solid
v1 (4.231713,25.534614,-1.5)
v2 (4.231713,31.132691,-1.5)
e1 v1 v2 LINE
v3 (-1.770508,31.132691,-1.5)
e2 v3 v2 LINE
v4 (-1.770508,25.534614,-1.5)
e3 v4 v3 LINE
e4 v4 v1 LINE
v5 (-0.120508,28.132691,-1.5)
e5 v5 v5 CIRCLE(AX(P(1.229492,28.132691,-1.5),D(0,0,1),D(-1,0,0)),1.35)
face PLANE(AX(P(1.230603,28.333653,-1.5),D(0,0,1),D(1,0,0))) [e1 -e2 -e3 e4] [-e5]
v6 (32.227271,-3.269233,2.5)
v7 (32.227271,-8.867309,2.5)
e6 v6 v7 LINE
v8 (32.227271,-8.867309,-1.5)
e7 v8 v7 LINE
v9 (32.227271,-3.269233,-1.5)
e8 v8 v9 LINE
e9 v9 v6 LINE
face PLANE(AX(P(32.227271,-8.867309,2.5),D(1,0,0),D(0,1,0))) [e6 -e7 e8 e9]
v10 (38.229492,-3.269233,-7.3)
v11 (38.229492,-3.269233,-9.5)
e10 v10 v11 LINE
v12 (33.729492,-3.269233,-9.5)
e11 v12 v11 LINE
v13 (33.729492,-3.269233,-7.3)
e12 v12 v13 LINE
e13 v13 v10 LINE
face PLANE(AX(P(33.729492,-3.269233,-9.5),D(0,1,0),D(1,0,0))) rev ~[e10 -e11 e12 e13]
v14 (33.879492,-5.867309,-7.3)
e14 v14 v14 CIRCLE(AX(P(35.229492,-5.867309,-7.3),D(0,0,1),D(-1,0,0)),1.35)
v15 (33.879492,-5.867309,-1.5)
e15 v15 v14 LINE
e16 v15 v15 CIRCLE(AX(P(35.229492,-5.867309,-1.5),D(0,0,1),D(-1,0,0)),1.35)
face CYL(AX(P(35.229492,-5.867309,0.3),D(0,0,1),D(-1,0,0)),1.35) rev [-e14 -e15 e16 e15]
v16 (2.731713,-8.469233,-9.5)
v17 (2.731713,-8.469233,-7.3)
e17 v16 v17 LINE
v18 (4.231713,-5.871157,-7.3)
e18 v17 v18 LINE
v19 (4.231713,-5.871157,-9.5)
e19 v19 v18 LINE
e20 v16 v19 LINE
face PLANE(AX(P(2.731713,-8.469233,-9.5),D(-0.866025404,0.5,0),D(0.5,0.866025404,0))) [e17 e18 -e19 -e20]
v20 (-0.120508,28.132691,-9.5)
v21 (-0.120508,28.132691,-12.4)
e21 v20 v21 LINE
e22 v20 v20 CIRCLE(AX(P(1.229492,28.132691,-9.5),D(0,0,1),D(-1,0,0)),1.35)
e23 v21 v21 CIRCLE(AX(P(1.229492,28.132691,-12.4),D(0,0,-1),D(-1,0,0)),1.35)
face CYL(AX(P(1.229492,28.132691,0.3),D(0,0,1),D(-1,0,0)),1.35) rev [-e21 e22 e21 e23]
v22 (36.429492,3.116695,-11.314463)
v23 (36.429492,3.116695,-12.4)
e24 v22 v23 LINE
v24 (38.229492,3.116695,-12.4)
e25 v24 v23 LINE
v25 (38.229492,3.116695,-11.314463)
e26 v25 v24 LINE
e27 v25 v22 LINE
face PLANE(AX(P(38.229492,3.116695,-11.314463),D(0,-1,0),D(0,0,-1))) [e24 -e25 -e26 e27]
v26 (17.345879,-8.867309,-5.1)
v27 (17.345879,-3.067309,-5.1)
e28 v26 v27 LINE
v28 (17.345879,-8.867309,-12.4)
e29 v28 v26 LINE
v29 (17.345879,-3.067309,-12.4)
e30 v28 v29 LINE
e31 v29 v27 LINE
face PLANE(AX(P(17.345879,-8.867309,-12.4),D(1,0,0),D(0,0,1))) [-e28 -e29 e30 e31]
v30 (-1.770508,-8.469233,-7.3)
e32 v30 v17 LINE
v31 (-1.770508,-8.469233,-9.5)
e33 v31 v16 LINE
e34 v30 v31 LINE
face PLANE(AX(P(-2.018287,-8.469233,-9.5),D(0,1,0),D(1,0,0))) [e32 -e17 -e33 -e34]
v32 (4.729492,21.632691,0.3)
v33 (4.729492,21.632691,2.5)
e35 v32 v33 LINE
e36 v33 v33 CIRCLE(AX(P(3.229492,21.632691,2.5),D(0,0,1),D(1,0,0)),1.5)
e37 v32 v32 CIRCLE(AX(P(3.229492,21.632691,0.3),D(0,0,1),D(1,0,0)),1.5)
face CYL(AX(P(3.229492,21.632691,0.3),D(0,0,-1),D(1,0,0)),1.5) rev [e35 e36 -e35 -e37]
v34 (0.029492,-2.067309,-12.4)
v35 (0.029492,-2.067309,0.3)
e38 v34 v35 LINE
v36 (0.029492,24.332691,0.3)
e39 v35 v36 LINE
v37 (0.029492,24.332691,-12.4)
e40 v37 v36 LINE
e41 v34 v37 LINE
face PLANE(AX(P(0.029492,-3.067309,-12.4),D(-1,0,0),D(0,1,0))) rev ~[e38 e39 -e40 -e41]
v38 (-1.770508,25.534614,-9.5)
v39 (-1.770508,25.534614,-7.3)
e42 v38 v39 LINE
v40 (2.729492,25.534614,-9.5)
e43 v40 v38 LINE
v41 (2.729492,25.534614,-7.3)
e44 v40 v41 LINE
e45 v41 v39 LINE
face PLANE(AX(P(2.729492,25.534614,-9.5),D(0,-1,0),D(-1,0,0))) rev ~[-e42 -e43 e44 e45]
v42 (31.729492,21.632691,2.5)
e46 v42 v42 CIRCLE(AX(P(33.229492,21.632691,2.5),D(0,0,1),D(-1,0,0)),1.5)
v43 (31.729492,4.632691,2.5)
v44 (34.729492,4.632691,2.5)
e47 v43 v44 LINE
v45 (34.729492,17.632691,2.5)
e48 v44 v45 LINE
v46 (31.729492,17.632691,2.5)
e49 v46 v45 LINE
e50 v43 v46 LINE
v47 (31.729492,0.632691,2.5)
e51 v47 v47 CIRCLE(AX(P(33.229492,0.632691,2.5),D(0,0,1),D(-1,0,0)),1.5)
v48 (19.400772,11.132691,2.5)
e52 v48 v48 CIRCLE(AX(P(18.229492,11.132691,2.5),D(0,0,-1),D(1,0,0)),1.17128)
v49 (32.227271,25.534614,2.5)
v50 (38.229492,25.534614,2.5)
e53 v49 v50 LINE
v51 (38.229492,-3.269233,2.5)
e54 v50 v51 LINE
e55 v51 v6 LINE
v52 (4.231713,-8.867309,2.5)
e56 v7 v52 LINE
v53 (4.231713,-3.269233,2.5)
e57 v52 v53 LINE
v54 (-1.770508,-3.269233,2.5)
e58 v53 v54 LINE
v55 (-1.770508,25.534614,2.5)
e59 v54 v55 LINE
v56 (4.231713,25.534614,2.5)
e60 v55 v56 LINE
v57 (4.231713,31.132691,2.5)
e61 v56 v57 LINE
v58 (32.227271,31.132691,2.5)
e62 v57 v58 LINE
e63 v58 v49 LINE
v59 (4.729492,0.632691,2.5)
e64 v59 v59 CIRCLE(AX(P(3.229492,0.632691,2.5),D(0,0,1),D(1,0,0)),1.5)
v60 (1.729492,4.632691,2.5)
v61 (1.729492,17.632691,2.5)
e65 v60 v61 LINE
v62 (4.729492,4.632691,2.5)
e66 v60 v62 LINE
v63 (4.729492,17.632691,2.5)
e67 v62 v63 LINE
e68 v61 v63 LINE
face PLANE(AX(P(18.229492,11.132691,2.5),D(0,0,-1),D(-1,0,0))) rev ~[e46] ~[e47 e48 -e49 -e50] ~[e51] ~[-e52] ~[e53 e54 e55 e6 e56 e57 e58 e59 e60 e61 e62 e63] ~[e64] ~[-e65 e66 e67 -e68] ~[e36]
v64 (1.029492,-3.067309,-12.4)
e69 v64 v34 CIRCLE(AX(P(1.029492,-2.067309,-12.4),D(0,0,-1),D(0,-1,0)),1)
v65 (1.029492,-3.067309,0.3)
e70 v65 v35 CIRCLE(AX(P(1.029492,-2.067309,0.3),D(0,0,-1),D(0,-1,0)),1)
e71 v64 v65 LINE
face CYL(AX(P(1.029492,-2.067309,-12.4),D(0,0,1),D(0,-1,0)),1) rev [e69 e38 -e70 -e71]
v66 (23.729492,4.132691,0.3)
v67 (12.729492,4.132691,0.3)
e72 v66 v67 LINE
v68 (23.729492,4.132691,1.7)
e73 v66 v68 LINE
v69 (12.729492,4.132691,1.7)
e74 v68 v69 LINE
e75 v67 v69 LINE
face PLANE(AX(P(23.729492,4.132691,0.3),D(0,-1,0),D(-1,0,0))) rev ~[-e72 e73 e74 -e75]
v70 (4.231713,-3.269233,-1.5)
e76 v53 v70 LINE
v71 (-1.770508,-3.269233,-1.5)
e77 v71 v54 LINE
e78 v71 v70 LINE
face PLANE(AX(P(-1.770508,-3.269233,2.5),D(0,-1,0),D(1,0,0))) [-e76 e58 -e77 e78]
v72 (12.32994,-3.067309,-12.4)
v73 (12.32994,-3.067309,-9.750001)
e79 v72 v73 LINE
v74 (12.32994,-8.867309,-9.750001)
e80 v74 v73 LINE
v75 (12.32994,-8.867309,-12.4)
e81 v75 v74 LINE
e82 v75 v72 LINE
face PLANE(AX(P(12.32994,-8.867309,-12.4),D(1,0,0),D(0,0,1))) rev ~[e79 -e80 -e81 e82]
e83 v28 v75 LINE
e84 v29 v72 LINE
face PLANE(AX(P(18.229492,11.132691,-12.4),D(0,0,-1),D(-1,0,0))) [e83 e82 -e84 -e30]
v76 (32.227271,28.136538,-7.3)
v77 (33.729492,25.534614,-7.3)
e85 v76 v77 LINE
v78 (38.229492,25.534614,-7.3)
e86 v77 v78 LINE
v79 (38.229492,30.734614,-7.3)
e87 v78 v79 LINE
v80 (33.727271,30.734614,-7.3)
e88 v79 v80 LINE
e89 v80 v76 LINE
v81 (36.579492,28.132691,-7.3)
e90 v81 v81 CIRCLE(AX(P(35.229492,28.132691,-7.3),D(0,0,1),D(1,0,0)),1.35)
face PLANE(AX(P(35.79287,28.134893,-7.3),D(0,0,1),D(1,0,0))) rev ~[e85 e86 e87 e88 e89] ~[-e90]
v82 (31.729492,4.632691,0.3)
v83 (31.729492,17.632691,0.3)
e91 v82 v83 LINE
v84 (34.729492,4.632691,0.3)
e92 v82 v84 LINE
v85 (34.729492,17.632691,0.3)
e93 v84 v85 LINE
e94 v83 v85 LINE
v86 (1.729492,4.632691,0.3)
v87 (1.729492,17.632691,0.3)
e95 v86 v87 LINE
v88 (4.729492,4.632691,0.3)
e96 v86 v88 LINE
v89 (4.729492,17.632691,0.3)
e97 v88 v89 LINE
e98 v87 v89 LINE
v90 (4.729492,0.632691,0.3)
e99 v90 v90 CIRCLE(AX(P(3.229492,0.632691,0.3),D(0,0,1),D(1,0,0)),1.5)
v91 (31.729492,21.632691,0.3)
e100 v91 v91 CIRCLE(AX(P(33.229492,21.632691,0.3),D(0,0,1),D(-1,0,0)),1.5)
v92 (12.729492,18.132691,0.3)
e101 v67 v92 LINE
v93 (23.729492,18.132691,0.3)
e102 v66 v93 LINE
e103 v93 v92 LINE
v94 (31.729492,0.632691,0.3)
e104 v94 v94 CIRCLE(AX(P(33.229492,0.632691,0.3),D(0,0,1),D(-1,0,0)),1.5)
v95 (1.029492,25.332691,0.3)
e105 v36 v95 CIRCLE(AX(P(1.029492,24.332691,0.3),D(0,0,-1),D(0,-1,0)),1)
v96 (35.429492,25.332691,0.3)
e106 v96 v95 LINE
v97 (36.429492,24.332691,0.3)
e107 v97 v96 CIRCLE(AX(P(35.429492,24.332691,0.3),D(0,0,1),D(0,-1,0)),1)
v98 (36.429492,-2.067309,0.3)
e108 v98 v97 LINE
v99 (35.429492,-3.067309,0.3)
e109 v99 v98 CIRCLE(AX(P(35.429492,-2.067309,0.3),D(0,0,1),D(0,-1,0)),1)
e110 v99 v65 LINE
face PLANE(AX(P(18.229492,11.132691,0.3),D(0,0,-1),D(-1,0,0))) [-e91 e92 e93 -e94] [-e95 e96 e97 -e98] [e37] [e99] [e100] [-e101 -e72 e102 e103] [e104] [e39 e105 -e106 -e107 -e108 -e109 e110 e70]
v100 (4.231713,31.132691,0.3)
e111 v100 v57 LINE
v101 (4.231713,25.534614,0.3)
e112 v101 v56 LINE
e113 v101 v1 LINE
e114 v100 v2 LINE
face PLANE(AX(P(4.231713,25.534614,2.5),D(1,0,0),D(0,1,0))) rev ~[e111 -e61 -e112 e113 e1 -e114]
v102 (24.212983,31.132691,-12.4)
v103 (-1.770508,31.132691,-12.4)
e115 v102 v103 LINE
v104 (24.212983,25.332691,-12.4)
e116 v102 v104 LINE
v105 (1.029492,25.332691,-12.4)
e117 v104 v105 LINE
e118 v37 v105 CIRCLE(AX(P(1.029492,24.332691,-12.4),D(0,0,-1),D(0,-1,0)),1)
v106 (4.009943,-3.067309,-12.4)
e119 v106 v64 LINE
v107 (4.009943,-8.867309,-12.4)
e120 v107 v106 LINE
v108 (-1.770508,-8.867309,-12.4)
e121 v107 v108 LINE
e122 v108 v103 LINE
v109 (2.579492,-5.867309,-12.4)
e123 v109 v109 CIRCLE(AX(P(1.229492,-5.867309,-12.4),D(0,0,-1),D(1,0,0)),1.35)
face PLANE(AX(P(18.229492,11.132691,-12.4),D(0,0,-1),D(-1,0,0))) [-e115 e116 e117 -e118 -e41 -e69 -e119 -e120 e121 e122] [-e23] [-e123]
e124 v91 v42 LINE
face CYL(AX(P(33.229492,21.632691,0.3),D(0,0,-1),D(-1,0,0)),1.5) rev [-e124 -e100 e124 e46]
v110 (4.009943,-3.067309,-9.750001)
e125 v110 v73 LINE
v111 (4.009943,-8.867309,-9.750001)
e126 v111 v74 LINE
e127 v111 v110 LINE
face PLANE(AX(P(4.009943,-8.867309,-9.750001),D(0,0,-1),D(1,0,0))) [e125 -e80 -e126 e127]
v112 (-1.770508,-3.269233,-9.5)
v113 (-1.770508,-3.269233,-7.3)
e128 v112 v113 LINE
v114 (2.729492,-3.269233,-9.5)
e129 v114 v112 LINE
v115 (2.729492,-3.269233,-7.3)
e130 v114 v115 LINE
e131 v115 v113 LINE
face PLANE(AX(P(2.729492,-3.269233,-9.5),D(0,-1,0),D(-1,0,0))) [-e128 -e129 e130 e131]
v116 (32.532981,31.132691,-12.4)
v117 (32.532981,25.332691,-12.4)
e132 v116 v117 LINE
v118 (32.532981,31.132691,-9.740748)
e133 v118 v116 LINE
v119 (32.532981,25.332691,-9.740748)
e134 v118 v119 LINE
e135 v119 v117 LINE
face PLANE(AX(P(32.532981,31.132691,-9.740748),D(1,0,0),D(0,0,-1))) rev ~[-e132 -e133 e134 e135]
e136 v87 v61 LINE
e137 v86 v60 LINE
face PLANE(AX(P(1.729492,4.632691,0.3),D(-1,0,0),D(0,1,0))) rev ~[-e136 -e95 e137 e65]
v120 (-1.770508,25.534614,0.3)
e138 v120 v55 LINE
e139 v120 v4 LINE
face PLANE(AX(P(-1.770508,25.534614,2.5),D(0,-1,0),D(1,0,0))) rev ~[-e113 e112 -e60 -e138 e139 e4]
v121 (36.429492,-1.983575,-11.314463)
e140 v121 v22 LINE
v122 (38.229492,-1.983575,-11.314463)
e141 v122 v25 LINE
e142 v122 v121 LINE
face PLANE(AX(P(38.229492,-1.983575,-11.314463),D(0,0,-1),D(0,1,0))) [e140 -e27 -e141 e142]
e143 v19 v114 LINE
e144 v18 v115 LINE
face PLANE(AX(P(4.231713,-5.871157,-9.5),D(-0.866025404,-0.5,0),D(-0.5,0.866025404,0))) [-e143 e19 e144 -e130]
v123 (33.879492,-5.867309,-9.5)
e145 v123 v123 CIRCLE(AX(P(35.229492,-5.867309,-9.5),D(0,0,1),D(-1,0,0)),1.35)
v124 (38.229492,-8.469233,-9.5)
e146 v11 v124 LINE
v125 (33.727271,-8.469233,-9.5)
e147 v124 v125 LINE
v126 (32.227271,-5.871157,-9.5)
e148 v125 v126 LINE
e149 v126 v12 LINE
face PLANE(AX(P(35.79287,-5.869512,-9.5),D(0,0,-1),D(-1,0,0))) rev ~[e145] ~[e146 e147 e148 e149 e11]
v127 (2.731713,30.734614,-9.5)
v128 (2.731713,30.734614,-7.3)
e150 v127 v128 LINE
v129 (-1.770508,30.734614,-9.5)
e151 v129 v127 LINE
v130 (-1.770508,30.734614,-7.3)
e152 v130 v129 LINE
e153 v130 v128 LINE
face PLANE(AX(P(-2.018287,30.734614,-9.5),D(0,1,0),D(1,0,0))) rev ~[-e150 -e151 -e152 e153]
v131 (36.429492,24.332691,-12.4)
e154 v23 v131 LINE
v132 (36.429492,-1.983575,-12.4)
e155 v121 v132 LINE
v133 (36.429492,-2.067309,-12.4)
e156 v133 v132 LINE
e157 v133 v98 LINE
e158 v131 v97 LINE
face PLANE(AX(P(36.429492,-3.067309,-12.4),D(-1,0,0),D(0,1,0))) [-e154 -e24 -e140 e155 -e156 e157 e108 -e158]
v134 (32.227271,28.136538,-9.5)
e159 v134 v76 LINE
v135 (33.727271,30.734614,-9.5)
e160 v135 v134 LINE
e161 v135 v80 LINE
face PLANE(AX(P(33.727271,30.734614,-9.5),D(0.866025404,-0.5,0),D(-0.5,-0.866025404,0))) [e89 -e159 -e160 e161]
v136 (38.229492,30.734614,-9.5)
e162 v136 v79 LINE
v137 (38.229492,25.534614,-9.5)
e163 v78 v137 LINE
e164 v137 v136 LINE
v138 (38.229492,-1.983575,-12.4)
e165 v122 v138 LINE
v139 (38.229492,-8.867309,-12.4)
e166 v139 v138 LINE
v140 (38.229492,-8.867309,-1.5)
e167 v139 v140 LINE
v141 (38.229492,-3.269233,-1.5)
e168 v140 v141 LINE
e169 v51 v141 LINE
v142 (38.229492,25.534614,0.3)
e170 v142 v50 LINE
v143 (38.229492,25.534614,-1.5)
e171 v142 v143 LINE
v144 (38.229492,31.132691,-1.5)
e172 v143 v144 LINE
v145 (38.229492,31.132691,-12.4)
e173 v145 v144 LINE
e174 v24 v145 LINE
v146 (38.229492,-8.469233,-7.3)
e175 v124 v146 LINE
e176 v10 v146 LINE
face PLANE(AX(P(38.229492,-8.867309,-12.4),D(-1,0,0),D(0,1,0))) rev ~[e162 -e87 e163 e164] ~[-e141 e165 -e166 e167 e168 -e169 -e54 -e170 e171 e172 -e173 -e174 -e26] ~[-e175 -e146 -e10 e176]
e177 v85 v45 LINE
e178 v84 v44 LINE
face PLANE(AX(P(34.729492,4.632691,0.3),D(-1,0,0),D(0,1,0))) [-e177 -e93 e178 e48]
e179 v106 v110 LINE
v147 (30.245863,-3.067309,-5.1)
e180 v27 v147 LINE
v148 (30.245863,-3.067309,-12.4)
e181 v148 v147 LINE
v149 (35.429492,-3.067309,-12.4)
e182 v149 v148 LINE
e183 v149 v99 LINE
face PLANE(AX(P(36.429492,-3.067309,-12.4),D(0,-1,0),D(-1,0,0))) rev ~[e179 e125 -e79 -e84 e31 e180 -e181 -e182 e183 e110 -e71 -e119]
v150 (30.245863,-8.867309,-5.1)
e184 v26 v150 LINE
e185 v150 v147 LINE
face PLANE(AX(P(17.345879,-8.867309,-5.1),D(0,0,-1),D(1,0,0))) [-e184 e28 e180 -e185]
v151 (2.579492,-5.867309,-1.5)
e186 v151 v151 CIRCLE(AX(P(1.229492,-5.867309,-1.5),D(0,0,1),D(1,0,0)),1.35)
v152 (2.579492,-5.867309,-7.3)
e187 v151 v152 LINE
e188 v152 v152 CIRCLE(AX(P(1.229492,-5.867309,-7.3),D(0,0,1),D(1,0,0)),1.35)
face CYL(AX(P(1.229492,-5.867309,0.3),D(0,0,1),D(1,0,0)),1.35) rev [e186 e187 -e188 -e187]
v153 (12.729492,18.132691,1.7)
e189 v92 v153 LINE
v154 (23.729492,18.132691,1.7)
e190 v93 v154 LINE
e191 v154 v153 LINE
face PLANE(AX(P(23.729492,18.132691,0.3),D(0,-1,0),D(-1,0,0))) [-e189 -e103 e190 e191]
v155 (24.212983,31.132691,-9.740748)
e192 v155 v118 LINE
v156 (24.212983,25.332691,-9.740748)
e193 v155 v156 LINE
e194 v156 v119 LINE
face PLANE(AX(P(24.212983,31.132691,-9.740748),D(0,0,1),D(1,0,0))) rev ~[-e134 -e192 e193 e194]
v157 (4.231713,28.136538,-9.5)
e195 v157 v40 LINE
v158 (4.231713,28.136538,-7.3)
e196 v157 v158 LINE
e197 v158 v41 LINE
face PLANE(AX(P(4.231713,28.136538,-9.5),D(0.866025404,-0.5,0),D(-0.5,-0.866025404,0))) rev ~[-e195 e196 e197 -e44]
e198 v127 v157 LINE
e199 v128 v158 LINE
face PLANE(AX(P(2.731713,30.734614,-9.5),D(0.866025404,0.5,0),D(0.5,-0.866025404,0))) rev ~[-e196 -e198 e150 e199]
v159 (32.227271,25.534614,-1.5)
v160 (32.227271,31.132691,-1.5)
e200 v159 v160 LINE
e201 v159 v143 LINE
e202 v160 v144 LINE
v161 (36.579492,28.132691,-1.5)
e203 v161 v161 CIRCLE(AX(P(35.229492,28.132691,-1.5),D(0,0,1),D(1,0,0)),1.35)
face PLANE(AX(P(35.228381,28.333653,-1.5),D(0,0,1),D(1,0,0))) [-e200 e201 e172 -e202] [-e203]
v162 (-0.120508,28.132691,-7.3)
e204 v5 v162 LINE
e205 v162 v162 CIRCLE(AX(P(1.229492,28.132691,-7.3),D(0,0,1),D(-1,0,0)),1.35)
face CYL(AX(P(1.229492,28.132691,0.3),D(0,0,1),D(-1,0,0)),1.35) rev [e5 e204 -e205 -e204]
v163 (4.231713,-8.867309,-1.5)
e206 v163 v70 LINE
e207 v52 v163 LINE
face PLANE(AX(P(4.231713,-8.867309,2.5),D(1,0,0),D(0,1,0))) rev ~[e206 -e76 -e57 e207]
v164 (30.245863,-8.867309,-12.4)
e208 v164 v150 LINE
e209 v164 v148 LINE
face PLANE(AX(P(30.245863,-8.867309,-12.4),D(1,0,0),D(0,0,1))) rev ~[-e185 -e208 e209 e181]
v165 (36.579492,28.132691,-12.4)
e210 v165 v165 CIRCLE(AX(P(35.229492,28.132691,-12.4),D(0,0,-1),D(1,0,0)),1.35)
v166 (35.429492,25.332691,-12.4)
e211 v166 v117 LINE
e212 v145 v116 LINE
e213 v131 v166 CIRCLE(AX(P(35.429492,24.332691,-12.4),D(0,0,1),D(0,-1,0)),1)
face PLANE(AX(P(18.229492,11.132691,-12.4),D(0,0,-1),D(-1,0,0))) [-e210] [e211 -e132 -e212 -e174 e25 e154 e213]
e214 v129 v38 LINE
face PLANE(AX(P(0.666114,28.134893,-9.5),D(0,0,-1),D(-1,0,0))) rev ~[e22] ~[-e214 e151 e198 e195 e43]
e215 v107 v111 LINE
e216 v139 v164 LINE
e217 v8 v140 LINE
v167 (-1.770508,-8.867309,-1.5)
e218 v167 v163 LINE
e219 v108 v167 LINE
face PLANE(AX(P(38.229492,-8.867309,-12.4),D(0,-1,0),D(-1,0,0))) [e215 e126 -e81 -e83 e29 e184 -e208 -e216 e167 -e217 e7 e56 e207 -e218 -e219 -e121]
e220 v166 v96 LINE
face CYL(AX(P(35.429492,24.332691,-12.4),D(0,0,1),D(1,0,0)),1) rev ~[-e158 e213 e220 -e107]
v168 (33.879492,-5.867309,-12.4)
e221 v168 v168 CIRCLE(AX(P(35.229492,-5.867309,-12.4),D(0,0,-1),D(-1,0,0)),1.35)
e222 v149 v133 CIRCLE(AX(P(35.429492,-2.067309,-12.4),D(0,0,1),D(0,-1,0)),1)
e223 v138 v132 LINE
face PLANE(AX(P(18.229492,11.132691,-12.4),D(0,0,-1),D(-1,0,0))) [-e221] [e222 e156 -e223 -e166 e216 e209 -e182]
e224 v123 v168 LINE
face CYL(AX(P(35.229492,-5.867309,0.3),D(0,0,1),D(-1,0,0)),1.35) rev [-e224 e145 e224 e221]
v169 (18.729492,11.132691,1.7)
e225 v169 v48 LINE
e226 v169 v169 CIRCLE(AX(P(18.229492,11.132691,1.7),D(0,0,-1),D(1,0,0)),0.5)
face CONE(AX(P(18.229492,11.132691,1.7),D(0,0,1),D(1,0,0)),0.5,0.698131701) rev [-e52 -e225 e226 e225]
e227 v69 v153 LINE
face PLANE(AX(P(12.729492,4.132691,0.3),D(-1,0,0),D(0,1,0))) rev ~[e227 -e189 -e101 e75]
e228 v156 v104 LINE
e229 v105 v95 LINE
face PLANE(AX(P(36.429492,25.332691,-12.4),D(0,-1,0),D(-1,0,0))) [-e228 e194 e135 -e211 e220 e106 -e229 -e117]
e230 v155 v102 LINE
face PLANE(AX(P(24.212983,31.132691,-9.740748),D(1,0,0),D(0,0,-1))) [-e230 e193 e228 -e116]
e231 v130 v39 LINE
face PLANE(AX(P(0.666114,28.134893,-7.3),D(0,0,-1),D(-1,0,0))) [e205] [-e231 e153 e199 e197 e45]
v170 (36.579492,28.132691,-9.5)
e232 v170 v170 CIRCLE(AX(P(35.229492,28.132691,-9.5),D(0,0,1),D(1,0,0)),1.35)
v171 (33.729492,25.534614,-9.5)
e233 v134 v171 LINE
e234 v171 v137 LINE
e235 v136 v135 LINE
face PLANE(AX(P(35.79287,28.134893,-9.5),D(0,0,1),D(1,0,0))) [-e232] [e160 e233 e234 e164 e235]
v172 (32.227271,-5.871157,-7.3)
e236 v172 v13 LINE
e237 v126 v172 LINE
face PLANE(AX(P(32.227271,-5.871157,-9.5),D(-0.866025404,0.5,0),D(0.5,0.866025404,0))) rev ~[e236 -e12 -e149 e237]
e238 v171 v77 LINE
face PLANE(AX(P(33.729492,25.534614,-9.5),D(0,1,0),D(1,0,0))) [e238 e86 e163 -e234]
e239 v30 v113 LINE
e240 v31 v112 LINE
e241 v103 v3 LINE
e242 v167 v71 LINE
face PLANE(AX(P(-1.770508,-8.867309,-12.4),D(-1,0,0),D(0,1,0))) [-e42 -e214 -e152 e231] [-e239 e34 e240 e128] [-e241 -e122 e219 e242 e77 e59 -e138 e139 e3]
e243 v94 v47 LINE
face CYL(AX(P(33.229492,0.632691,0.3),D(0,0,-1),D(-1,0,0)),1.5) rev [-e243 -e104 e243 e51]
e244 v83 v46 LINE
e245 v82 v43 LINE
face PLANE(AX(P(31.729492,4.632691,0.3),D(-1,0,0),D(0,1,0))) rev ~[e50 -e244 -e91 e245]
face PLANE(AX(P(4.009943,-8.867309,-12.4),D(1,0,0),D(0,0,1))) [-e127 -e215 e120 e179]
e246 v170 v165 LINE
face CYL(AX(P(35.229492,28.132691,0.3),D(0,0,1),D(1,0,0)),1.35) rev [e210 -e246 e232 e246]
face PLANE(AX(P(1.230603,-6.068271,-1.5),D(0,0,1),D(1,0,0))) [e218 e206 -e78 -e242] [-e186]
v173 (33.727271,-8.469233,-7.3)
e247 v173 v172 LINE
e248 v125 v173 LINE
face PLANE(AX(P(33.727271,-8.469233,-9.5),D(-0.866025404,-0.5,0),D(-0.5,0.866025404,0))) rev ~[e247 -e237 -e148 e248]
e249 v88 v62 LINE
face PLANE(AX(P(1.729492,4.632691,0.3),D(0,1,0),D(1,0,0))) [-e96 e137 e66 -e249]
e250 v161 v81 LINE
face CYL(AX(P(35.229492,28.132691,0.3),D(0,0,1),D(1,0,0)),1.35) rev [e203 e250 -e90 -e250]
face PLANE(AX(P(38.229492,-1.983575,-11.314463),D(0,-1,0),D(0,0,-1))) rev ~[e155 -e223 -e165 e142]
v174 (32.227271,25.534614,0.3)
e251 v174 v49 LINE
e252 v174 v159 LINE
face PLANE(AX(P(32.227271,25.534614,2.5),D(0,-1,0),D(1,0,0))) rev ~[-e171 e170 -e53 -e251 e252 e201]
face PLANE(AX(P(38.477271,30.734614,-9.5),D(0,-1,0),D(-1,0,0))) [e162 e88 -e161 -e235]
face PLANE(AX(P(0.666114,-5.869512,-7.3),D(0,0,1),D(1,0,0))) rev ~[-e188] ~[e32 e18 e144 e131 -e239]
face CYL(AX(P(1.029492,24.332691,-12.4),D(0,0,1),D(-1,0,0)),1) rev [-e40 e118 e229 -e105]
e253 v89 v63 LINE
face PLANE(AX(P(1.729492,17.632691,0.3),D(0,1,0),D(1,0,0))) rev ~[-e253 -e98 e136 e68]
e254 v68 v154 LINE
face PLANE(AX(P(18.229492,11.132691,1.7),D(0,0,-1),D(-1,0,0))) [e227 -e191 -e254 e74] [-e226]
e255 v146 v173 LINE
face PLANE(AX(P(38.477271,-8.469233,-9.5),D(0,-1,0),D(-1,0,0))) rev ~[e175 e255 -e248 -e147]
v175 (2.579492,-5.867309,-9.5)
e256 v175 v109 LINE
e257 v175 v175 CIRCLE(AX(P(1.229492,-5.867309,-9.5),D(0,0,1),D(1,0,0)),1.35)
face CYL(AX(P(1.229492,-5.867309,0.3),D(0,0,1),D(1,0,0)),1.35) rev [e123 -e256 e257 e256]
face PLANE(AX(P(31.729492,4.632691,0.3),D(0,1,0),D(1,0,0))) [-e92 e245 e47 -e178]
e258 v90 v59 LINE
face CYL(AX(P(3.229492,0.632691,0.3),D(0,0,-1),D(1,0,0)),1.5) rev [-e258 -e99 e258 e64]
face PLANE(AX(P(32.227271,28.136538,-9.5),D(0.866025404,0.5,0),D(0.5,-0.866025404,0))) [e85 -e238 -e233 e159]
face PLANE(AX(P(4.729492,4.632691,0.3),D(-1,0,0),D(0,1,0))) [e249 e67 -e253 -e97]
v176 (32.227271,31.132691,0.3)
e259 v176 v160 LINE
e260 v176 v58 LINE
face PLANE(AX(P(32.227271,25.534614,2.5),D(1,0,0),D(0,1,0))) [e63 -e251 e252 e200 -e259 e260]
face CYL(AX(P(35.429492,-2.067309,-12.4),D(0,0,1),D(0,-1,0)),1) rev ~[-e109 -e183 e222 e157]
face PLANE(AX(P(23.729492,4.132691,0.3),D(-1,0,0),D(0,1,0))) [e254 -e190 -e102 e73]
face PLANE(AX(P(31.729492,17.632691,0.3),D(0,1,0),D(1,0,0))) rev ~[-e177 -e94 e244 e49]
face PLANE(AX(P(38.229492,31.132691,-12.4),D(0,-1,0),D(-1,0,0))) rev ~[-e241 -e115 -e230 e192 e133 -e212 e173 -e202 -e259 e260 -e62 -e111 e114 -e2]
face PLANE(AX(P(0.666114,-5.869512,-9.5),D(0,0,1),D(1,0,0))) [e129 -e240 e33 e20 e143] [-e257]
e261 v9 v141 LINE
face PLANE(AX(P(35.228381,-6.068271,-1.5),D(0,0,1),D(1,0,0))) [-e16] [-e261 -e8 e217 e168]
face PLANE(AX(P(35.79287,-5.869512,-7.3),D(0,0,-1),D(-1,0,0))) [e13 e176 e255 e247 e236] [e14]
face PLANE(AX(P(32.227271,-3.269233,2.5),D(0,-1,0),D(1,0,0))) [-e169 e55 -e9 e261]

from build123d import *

# Parameters (mm, degrees)
SKETCH_1_W               = 40
SKETCH_1_H               = 40
EXTRUDE_1_DEPTH          = 12.7
CUT_EXTRUDE_2_DEPTH      = 0.7
CUT_EXTRUDE_2_DEPTH_BACK = 1.5
SKETCH_8_W               = 36.4
SKETCH_8_H               = 28.4
CUT_EXTRUDE_4_DEPTH      = 12.7
SKETCH_10_R              = 0.5
SKETCH_10_R_2            = 1.5
SKETCH_10_W              = 3
SKETCH_10_H              = 13
EXTRUDE_2_DEPTH          = 2.2
CUT_EXTRUDE_START        = -12.7
SKETCH_13_R              = 1.35
CUT_EXTRUDE_6_DEPTH      = 12.7
FILLET_1_R               = 1
SKETCH_14_W              = 8.31999735
SKETCH_14_H              = 2.64999918
CUT_EXTRUDE_8_DEPTH      = 5.8
SKETCH_15_W              = 12.8999835
SKETCH_15_H              = 7.3
CUT_EXTRUDE_9_DEPTH      = 5.8
SKETCH_16_W              = 1.085536683
SKETCH_16_H              = 5.100270408
CUT_EXTRUDE_10_DEPTH     = 1.8
SKETCH_17_W              = 8.31999735
SKETCH_17_H              = 2.65925193
CUT_EXTRUDE_11_DEPTH     = 5.8
SKETCH_23_W              = 6.0022214
SKETCH_23_H              = 5.598076211
SKETCH_23_H_2            = 5.598076212
CUT_EXTRUDE_12_DEPTH     = 4
SKETCH_24_W              = 11
SKETCH_24_H              = 14
CUT_EXTRUDE_14_DEPTH     = 1.4


with BuildPart() as part:
    # 草图1 → 凸台-拉伸1 (new body)
    with BuildSketch(Plane(origin=(0, 0, -12.4), x_dir=(-1, 0, 0), z_dir=(0, 0, -1))):
        with Locations((-18.22949197, 11.132690632)):
            Rectangle(SKETCH_1_W, SKETCH_1_H)
    extrude(amount=-EXTRUDE_1_DEPTH)

    # 草图2 → 切除-拉伸2 (cut, two sides: drawn at the far end of the back side and taken through both)
    with BuildSketch(Plane.XY.offset(-8).offset(-CUT_EXTRUDE_2_DEPTH_BACK)):
        Polygon((-2.01828663, -8.469233156), (2.73171337, -8.469233156), (4.23171337, -5.871156945), (2.72949197, -3.269233156), (-2.01828663, -3.269233156), align=None)
        Polygon((-2.01828663, 25.534614421), (-2.01828663, 30.734614421), (2.73171337, 30.734614421), (4.23171337, 28.13653821), (2.72949197, 25.534614421), align=None)
        Polygon((38.47727057, 30.734614421), (33.72727057, 30.734614421), (32.22727057, 28.13653821), (33.72949197, 25.534614421), (38.47727057, 25.534614421), align=None)
        Polygon((38.47727057, -3.269233156), (38.47727057, -8.469233156), (33.72727057, -8.469233156), (32.22727057, -5.871156945), (33.72949197, -3.269233156), align=None)
    extrude(amount=CUT_EXTRUDE_2_DEPTH + CUT_EXTRUDE_2_DEPTH_BACK, mode=Mode.SUBTRACT)

    # 草图8 → 切除-拉伸4 (cut)
    with BuildSketch(Plane(origin=(0, 0, -12.4), x_dir=(-1, 0, 0), z_dir=(0, 0, -1))):
        with Locations((-18.22949197, 11.132690632)):
            Rectangle(SKETCH_8_W, SKETCH_8_H)
    extrude(amount=-CUT_EXTRUDE_4_DEPTH, mode=Mode.SUBTRACT)

    # 草图13 → 切除-拉伸6 (cut)
    with BuildSketch(Plane(origin=(0, 0, -12.4), x_dir=(-1, 0, 0), z_dir=(0, 0, -1)).offset(CUT_EXTRUDE_START)):
        with Locations((-35.22949197, -5.867309368)):
            Circle(SKETCH_13_R)
        with Locations(Location((-1.22949197, -5.867309368, 0), (0, 0, 180))):
            Circle(SKETCH_13_R)
        with Locations((-1.22949197, 28.132690632)):
            Circle(SKETCH_13_R)
        with Locations(Location((-35.22949197, 28.132690632, 0), (0, 0, 180))):
            Circle(SKETCH_13_R)
    extrude(amount=CUT_EXTRUDE_6_DEPTH, mode=Mode.SUBTRACT)

    # 圆角1
    fillet_1_edges = [part.edges().sort_by_distance(p)[0] for p in [
        (0.02949197, 25.332690632, -6.05),
        (0.02949197, -3.067309368, -6.05),
        (36.42949197, -3.067309368, -6.05),
        (36.42949197, 25.332690632, -6.05),
    ]]
    fillet(fillet_1_edges, radius=FILLET_1_R)

    # 草图14 → 切除-拉伸8 (cut)
    with BuildSketch(Plane.XZ.offset(8.867309368)):
        with Locations((8.169941285, -11.07500041)):
            Rectangle(SKETCH_14_W, SKETCH_14_H)
    extrude(amount=-CUT_EXTRUDE_8_DEPTH, mode=Mode.SUBTRACT)

    # 草图15 → 切除-拉伸9 (cut)
    with BuildSketch(Plane.XZ.offset(8.867309368)):
        with Locations((23.79587104, -8.75)):
            Rectangle(SKETCH_15_W, SKETCH_15_H)
    extrude(amount=-CUT_EXTRUDE_9_DEPTH, mode=Mode.SUBTRACT)

    # 草图16 → 切除-拉伸10 (cut)
    with BuildSketch(Plane(origin=(38.22949197, 0, 0), x_dir=(0, 0, -1), z_dir=(1, 0, 0))):
        with Locations((11.857231659, 0.566559812)):
            Rectangle(SKETCH_16_W, SKETCH_16_H)
    extrude(amount=-CUT_EXTRUDE_10_DEPTH, mode=Mode.SUBTRACT)

    # 草图17 → 切除-拉伸11 (cut)
    with BuildSketch(Plane(origin=(0, 31.132690632, 0), x_dir=(1, 0, 0), z_dir=(0, 1, 0))):
        with Locations((28.372981895, 11.070374035)):
            Rectangle(SKETCH_17_W, SKETCH_17_H)
    extrude(amount=-CUT_EXTRUDE_11_DEPTH, mode=Mode.SUBTRACT)

    # 草图23 → 切除-拉伸12 (cut)
    with BuildSketch(Plane.XY.offset(2.5)):
        with Locations((35.22838127, 28.333652527)):
            Rectangle(SKETCH_23_W, SKETCH_23_H)
        with Locations((35.22838127, -6.068271262)):
            Rectangle(SKETCH_23_W, SKETCH_23_H_2)
        with Locations((1.23060267, -6.068271262)):
            Rectangle(SKETCH_23_W, SKETCH_23_H_2)
        with Locations((1.23060267, 28.333652527)):
            Rectangle(SKETCH_23_W, SKETCH_23_H)
    extrude(amount=-CUT_EXTRUDE_12_DEPTH, mode=Mode.SUBTRACT)


with BuildPart() as body_2:
    # 草图10 → 凸台-拉伸2 (new body)
    with BuildSketch(Plane.XY.offset(0.3)):
        Polygon((-1.77050803, 25.534614421), (4.23171337, 25.534614421), (4.23171337, 31.132690632), (32.22727057, 31.132690632), (32.22727057, 25.534614421), (38.22949197, 25.534614421), (38.22949197, -3.269233156), (32.22727057, -3.269233156), (32.22727057, -8.867309368), (4.23171337, -8.867309368), (4.23171337, -3.269233156), (-1.77050803, -3.269233156), align=None)
        with Locations((18.22949197, 11.132690632)):
            Circle(SKETCH_10_R, mode=Mode.SUBTRACT)
        with Locations((3.22949197, 0.632690632)):
            Circle(SKETCH_10_R_2, mode=Mode.SUBTRACT)
        with Locations((3.22949197, 21.632690632)):
            Circle(SKETCH_10_R_2, mode=Mode.SUBTRACT)
        with Locations(Location((33.22949197, 21.632690632, 0), (0, 0, 180))):
            Circle(SKETCH_10_R_2, mode=Mode.SUBTRACT)
        with Locations(Location((33.22949197, 0.632690632, 0), (0, 0, 180))):
            Circle(SKETCH_10_R_2, mode=Mode.SUBTRACT)
        with Locations((3.22949197, 11.132690632)):
            Rectangle(SKETCH_10_W, SKETCH_10_H, mode=Mode.SUBTRACT)
        with Locations((33.22949197, 11.132690632)):
            Rectangle(SKETCH_10_W, SKETCH_10_H, mode=Mode.SUBTRACT)
    extrude(amount=EXTRUDE_2_DEPTH)

    # 草图24 → 切除-拉伸14 (cut)
    with BuildSketch(Plane(origin=(0, 0, 0.3), x_dir=(-1, 0, 0), z_dir=(0, 0, -1))):
        with Locations((-18.22949197, 11.132690632)):
            Rectangle(SKETCH_24_W, SKETCH_24_H)
    extrude(amount=-CUT_EXTRUDE_14_DEPTH, mode=Mode.SUBTRACT)

    # 草图22 → 切除-旋转3 (revolve, cut)
    with BuildSketch(Plane(origin=(0, 11.132690632, 0), x_dir=(-1, 0, 0), z_dir=(0, -1, 0))):
        Polygon((-18.72949197, -1.7), (-19.400771675, -2.5), (-18.22949197, -2.5), (-18.22949197, -1.7), align=None)
    revolve(axis=Axis((18.22949197, 11.132690632, 5.06186702), (0, 0, -1)), mode=Mode.SUBTRACT)

    # Combine 1: union part
    add(part.part)


solid = body_2.part
